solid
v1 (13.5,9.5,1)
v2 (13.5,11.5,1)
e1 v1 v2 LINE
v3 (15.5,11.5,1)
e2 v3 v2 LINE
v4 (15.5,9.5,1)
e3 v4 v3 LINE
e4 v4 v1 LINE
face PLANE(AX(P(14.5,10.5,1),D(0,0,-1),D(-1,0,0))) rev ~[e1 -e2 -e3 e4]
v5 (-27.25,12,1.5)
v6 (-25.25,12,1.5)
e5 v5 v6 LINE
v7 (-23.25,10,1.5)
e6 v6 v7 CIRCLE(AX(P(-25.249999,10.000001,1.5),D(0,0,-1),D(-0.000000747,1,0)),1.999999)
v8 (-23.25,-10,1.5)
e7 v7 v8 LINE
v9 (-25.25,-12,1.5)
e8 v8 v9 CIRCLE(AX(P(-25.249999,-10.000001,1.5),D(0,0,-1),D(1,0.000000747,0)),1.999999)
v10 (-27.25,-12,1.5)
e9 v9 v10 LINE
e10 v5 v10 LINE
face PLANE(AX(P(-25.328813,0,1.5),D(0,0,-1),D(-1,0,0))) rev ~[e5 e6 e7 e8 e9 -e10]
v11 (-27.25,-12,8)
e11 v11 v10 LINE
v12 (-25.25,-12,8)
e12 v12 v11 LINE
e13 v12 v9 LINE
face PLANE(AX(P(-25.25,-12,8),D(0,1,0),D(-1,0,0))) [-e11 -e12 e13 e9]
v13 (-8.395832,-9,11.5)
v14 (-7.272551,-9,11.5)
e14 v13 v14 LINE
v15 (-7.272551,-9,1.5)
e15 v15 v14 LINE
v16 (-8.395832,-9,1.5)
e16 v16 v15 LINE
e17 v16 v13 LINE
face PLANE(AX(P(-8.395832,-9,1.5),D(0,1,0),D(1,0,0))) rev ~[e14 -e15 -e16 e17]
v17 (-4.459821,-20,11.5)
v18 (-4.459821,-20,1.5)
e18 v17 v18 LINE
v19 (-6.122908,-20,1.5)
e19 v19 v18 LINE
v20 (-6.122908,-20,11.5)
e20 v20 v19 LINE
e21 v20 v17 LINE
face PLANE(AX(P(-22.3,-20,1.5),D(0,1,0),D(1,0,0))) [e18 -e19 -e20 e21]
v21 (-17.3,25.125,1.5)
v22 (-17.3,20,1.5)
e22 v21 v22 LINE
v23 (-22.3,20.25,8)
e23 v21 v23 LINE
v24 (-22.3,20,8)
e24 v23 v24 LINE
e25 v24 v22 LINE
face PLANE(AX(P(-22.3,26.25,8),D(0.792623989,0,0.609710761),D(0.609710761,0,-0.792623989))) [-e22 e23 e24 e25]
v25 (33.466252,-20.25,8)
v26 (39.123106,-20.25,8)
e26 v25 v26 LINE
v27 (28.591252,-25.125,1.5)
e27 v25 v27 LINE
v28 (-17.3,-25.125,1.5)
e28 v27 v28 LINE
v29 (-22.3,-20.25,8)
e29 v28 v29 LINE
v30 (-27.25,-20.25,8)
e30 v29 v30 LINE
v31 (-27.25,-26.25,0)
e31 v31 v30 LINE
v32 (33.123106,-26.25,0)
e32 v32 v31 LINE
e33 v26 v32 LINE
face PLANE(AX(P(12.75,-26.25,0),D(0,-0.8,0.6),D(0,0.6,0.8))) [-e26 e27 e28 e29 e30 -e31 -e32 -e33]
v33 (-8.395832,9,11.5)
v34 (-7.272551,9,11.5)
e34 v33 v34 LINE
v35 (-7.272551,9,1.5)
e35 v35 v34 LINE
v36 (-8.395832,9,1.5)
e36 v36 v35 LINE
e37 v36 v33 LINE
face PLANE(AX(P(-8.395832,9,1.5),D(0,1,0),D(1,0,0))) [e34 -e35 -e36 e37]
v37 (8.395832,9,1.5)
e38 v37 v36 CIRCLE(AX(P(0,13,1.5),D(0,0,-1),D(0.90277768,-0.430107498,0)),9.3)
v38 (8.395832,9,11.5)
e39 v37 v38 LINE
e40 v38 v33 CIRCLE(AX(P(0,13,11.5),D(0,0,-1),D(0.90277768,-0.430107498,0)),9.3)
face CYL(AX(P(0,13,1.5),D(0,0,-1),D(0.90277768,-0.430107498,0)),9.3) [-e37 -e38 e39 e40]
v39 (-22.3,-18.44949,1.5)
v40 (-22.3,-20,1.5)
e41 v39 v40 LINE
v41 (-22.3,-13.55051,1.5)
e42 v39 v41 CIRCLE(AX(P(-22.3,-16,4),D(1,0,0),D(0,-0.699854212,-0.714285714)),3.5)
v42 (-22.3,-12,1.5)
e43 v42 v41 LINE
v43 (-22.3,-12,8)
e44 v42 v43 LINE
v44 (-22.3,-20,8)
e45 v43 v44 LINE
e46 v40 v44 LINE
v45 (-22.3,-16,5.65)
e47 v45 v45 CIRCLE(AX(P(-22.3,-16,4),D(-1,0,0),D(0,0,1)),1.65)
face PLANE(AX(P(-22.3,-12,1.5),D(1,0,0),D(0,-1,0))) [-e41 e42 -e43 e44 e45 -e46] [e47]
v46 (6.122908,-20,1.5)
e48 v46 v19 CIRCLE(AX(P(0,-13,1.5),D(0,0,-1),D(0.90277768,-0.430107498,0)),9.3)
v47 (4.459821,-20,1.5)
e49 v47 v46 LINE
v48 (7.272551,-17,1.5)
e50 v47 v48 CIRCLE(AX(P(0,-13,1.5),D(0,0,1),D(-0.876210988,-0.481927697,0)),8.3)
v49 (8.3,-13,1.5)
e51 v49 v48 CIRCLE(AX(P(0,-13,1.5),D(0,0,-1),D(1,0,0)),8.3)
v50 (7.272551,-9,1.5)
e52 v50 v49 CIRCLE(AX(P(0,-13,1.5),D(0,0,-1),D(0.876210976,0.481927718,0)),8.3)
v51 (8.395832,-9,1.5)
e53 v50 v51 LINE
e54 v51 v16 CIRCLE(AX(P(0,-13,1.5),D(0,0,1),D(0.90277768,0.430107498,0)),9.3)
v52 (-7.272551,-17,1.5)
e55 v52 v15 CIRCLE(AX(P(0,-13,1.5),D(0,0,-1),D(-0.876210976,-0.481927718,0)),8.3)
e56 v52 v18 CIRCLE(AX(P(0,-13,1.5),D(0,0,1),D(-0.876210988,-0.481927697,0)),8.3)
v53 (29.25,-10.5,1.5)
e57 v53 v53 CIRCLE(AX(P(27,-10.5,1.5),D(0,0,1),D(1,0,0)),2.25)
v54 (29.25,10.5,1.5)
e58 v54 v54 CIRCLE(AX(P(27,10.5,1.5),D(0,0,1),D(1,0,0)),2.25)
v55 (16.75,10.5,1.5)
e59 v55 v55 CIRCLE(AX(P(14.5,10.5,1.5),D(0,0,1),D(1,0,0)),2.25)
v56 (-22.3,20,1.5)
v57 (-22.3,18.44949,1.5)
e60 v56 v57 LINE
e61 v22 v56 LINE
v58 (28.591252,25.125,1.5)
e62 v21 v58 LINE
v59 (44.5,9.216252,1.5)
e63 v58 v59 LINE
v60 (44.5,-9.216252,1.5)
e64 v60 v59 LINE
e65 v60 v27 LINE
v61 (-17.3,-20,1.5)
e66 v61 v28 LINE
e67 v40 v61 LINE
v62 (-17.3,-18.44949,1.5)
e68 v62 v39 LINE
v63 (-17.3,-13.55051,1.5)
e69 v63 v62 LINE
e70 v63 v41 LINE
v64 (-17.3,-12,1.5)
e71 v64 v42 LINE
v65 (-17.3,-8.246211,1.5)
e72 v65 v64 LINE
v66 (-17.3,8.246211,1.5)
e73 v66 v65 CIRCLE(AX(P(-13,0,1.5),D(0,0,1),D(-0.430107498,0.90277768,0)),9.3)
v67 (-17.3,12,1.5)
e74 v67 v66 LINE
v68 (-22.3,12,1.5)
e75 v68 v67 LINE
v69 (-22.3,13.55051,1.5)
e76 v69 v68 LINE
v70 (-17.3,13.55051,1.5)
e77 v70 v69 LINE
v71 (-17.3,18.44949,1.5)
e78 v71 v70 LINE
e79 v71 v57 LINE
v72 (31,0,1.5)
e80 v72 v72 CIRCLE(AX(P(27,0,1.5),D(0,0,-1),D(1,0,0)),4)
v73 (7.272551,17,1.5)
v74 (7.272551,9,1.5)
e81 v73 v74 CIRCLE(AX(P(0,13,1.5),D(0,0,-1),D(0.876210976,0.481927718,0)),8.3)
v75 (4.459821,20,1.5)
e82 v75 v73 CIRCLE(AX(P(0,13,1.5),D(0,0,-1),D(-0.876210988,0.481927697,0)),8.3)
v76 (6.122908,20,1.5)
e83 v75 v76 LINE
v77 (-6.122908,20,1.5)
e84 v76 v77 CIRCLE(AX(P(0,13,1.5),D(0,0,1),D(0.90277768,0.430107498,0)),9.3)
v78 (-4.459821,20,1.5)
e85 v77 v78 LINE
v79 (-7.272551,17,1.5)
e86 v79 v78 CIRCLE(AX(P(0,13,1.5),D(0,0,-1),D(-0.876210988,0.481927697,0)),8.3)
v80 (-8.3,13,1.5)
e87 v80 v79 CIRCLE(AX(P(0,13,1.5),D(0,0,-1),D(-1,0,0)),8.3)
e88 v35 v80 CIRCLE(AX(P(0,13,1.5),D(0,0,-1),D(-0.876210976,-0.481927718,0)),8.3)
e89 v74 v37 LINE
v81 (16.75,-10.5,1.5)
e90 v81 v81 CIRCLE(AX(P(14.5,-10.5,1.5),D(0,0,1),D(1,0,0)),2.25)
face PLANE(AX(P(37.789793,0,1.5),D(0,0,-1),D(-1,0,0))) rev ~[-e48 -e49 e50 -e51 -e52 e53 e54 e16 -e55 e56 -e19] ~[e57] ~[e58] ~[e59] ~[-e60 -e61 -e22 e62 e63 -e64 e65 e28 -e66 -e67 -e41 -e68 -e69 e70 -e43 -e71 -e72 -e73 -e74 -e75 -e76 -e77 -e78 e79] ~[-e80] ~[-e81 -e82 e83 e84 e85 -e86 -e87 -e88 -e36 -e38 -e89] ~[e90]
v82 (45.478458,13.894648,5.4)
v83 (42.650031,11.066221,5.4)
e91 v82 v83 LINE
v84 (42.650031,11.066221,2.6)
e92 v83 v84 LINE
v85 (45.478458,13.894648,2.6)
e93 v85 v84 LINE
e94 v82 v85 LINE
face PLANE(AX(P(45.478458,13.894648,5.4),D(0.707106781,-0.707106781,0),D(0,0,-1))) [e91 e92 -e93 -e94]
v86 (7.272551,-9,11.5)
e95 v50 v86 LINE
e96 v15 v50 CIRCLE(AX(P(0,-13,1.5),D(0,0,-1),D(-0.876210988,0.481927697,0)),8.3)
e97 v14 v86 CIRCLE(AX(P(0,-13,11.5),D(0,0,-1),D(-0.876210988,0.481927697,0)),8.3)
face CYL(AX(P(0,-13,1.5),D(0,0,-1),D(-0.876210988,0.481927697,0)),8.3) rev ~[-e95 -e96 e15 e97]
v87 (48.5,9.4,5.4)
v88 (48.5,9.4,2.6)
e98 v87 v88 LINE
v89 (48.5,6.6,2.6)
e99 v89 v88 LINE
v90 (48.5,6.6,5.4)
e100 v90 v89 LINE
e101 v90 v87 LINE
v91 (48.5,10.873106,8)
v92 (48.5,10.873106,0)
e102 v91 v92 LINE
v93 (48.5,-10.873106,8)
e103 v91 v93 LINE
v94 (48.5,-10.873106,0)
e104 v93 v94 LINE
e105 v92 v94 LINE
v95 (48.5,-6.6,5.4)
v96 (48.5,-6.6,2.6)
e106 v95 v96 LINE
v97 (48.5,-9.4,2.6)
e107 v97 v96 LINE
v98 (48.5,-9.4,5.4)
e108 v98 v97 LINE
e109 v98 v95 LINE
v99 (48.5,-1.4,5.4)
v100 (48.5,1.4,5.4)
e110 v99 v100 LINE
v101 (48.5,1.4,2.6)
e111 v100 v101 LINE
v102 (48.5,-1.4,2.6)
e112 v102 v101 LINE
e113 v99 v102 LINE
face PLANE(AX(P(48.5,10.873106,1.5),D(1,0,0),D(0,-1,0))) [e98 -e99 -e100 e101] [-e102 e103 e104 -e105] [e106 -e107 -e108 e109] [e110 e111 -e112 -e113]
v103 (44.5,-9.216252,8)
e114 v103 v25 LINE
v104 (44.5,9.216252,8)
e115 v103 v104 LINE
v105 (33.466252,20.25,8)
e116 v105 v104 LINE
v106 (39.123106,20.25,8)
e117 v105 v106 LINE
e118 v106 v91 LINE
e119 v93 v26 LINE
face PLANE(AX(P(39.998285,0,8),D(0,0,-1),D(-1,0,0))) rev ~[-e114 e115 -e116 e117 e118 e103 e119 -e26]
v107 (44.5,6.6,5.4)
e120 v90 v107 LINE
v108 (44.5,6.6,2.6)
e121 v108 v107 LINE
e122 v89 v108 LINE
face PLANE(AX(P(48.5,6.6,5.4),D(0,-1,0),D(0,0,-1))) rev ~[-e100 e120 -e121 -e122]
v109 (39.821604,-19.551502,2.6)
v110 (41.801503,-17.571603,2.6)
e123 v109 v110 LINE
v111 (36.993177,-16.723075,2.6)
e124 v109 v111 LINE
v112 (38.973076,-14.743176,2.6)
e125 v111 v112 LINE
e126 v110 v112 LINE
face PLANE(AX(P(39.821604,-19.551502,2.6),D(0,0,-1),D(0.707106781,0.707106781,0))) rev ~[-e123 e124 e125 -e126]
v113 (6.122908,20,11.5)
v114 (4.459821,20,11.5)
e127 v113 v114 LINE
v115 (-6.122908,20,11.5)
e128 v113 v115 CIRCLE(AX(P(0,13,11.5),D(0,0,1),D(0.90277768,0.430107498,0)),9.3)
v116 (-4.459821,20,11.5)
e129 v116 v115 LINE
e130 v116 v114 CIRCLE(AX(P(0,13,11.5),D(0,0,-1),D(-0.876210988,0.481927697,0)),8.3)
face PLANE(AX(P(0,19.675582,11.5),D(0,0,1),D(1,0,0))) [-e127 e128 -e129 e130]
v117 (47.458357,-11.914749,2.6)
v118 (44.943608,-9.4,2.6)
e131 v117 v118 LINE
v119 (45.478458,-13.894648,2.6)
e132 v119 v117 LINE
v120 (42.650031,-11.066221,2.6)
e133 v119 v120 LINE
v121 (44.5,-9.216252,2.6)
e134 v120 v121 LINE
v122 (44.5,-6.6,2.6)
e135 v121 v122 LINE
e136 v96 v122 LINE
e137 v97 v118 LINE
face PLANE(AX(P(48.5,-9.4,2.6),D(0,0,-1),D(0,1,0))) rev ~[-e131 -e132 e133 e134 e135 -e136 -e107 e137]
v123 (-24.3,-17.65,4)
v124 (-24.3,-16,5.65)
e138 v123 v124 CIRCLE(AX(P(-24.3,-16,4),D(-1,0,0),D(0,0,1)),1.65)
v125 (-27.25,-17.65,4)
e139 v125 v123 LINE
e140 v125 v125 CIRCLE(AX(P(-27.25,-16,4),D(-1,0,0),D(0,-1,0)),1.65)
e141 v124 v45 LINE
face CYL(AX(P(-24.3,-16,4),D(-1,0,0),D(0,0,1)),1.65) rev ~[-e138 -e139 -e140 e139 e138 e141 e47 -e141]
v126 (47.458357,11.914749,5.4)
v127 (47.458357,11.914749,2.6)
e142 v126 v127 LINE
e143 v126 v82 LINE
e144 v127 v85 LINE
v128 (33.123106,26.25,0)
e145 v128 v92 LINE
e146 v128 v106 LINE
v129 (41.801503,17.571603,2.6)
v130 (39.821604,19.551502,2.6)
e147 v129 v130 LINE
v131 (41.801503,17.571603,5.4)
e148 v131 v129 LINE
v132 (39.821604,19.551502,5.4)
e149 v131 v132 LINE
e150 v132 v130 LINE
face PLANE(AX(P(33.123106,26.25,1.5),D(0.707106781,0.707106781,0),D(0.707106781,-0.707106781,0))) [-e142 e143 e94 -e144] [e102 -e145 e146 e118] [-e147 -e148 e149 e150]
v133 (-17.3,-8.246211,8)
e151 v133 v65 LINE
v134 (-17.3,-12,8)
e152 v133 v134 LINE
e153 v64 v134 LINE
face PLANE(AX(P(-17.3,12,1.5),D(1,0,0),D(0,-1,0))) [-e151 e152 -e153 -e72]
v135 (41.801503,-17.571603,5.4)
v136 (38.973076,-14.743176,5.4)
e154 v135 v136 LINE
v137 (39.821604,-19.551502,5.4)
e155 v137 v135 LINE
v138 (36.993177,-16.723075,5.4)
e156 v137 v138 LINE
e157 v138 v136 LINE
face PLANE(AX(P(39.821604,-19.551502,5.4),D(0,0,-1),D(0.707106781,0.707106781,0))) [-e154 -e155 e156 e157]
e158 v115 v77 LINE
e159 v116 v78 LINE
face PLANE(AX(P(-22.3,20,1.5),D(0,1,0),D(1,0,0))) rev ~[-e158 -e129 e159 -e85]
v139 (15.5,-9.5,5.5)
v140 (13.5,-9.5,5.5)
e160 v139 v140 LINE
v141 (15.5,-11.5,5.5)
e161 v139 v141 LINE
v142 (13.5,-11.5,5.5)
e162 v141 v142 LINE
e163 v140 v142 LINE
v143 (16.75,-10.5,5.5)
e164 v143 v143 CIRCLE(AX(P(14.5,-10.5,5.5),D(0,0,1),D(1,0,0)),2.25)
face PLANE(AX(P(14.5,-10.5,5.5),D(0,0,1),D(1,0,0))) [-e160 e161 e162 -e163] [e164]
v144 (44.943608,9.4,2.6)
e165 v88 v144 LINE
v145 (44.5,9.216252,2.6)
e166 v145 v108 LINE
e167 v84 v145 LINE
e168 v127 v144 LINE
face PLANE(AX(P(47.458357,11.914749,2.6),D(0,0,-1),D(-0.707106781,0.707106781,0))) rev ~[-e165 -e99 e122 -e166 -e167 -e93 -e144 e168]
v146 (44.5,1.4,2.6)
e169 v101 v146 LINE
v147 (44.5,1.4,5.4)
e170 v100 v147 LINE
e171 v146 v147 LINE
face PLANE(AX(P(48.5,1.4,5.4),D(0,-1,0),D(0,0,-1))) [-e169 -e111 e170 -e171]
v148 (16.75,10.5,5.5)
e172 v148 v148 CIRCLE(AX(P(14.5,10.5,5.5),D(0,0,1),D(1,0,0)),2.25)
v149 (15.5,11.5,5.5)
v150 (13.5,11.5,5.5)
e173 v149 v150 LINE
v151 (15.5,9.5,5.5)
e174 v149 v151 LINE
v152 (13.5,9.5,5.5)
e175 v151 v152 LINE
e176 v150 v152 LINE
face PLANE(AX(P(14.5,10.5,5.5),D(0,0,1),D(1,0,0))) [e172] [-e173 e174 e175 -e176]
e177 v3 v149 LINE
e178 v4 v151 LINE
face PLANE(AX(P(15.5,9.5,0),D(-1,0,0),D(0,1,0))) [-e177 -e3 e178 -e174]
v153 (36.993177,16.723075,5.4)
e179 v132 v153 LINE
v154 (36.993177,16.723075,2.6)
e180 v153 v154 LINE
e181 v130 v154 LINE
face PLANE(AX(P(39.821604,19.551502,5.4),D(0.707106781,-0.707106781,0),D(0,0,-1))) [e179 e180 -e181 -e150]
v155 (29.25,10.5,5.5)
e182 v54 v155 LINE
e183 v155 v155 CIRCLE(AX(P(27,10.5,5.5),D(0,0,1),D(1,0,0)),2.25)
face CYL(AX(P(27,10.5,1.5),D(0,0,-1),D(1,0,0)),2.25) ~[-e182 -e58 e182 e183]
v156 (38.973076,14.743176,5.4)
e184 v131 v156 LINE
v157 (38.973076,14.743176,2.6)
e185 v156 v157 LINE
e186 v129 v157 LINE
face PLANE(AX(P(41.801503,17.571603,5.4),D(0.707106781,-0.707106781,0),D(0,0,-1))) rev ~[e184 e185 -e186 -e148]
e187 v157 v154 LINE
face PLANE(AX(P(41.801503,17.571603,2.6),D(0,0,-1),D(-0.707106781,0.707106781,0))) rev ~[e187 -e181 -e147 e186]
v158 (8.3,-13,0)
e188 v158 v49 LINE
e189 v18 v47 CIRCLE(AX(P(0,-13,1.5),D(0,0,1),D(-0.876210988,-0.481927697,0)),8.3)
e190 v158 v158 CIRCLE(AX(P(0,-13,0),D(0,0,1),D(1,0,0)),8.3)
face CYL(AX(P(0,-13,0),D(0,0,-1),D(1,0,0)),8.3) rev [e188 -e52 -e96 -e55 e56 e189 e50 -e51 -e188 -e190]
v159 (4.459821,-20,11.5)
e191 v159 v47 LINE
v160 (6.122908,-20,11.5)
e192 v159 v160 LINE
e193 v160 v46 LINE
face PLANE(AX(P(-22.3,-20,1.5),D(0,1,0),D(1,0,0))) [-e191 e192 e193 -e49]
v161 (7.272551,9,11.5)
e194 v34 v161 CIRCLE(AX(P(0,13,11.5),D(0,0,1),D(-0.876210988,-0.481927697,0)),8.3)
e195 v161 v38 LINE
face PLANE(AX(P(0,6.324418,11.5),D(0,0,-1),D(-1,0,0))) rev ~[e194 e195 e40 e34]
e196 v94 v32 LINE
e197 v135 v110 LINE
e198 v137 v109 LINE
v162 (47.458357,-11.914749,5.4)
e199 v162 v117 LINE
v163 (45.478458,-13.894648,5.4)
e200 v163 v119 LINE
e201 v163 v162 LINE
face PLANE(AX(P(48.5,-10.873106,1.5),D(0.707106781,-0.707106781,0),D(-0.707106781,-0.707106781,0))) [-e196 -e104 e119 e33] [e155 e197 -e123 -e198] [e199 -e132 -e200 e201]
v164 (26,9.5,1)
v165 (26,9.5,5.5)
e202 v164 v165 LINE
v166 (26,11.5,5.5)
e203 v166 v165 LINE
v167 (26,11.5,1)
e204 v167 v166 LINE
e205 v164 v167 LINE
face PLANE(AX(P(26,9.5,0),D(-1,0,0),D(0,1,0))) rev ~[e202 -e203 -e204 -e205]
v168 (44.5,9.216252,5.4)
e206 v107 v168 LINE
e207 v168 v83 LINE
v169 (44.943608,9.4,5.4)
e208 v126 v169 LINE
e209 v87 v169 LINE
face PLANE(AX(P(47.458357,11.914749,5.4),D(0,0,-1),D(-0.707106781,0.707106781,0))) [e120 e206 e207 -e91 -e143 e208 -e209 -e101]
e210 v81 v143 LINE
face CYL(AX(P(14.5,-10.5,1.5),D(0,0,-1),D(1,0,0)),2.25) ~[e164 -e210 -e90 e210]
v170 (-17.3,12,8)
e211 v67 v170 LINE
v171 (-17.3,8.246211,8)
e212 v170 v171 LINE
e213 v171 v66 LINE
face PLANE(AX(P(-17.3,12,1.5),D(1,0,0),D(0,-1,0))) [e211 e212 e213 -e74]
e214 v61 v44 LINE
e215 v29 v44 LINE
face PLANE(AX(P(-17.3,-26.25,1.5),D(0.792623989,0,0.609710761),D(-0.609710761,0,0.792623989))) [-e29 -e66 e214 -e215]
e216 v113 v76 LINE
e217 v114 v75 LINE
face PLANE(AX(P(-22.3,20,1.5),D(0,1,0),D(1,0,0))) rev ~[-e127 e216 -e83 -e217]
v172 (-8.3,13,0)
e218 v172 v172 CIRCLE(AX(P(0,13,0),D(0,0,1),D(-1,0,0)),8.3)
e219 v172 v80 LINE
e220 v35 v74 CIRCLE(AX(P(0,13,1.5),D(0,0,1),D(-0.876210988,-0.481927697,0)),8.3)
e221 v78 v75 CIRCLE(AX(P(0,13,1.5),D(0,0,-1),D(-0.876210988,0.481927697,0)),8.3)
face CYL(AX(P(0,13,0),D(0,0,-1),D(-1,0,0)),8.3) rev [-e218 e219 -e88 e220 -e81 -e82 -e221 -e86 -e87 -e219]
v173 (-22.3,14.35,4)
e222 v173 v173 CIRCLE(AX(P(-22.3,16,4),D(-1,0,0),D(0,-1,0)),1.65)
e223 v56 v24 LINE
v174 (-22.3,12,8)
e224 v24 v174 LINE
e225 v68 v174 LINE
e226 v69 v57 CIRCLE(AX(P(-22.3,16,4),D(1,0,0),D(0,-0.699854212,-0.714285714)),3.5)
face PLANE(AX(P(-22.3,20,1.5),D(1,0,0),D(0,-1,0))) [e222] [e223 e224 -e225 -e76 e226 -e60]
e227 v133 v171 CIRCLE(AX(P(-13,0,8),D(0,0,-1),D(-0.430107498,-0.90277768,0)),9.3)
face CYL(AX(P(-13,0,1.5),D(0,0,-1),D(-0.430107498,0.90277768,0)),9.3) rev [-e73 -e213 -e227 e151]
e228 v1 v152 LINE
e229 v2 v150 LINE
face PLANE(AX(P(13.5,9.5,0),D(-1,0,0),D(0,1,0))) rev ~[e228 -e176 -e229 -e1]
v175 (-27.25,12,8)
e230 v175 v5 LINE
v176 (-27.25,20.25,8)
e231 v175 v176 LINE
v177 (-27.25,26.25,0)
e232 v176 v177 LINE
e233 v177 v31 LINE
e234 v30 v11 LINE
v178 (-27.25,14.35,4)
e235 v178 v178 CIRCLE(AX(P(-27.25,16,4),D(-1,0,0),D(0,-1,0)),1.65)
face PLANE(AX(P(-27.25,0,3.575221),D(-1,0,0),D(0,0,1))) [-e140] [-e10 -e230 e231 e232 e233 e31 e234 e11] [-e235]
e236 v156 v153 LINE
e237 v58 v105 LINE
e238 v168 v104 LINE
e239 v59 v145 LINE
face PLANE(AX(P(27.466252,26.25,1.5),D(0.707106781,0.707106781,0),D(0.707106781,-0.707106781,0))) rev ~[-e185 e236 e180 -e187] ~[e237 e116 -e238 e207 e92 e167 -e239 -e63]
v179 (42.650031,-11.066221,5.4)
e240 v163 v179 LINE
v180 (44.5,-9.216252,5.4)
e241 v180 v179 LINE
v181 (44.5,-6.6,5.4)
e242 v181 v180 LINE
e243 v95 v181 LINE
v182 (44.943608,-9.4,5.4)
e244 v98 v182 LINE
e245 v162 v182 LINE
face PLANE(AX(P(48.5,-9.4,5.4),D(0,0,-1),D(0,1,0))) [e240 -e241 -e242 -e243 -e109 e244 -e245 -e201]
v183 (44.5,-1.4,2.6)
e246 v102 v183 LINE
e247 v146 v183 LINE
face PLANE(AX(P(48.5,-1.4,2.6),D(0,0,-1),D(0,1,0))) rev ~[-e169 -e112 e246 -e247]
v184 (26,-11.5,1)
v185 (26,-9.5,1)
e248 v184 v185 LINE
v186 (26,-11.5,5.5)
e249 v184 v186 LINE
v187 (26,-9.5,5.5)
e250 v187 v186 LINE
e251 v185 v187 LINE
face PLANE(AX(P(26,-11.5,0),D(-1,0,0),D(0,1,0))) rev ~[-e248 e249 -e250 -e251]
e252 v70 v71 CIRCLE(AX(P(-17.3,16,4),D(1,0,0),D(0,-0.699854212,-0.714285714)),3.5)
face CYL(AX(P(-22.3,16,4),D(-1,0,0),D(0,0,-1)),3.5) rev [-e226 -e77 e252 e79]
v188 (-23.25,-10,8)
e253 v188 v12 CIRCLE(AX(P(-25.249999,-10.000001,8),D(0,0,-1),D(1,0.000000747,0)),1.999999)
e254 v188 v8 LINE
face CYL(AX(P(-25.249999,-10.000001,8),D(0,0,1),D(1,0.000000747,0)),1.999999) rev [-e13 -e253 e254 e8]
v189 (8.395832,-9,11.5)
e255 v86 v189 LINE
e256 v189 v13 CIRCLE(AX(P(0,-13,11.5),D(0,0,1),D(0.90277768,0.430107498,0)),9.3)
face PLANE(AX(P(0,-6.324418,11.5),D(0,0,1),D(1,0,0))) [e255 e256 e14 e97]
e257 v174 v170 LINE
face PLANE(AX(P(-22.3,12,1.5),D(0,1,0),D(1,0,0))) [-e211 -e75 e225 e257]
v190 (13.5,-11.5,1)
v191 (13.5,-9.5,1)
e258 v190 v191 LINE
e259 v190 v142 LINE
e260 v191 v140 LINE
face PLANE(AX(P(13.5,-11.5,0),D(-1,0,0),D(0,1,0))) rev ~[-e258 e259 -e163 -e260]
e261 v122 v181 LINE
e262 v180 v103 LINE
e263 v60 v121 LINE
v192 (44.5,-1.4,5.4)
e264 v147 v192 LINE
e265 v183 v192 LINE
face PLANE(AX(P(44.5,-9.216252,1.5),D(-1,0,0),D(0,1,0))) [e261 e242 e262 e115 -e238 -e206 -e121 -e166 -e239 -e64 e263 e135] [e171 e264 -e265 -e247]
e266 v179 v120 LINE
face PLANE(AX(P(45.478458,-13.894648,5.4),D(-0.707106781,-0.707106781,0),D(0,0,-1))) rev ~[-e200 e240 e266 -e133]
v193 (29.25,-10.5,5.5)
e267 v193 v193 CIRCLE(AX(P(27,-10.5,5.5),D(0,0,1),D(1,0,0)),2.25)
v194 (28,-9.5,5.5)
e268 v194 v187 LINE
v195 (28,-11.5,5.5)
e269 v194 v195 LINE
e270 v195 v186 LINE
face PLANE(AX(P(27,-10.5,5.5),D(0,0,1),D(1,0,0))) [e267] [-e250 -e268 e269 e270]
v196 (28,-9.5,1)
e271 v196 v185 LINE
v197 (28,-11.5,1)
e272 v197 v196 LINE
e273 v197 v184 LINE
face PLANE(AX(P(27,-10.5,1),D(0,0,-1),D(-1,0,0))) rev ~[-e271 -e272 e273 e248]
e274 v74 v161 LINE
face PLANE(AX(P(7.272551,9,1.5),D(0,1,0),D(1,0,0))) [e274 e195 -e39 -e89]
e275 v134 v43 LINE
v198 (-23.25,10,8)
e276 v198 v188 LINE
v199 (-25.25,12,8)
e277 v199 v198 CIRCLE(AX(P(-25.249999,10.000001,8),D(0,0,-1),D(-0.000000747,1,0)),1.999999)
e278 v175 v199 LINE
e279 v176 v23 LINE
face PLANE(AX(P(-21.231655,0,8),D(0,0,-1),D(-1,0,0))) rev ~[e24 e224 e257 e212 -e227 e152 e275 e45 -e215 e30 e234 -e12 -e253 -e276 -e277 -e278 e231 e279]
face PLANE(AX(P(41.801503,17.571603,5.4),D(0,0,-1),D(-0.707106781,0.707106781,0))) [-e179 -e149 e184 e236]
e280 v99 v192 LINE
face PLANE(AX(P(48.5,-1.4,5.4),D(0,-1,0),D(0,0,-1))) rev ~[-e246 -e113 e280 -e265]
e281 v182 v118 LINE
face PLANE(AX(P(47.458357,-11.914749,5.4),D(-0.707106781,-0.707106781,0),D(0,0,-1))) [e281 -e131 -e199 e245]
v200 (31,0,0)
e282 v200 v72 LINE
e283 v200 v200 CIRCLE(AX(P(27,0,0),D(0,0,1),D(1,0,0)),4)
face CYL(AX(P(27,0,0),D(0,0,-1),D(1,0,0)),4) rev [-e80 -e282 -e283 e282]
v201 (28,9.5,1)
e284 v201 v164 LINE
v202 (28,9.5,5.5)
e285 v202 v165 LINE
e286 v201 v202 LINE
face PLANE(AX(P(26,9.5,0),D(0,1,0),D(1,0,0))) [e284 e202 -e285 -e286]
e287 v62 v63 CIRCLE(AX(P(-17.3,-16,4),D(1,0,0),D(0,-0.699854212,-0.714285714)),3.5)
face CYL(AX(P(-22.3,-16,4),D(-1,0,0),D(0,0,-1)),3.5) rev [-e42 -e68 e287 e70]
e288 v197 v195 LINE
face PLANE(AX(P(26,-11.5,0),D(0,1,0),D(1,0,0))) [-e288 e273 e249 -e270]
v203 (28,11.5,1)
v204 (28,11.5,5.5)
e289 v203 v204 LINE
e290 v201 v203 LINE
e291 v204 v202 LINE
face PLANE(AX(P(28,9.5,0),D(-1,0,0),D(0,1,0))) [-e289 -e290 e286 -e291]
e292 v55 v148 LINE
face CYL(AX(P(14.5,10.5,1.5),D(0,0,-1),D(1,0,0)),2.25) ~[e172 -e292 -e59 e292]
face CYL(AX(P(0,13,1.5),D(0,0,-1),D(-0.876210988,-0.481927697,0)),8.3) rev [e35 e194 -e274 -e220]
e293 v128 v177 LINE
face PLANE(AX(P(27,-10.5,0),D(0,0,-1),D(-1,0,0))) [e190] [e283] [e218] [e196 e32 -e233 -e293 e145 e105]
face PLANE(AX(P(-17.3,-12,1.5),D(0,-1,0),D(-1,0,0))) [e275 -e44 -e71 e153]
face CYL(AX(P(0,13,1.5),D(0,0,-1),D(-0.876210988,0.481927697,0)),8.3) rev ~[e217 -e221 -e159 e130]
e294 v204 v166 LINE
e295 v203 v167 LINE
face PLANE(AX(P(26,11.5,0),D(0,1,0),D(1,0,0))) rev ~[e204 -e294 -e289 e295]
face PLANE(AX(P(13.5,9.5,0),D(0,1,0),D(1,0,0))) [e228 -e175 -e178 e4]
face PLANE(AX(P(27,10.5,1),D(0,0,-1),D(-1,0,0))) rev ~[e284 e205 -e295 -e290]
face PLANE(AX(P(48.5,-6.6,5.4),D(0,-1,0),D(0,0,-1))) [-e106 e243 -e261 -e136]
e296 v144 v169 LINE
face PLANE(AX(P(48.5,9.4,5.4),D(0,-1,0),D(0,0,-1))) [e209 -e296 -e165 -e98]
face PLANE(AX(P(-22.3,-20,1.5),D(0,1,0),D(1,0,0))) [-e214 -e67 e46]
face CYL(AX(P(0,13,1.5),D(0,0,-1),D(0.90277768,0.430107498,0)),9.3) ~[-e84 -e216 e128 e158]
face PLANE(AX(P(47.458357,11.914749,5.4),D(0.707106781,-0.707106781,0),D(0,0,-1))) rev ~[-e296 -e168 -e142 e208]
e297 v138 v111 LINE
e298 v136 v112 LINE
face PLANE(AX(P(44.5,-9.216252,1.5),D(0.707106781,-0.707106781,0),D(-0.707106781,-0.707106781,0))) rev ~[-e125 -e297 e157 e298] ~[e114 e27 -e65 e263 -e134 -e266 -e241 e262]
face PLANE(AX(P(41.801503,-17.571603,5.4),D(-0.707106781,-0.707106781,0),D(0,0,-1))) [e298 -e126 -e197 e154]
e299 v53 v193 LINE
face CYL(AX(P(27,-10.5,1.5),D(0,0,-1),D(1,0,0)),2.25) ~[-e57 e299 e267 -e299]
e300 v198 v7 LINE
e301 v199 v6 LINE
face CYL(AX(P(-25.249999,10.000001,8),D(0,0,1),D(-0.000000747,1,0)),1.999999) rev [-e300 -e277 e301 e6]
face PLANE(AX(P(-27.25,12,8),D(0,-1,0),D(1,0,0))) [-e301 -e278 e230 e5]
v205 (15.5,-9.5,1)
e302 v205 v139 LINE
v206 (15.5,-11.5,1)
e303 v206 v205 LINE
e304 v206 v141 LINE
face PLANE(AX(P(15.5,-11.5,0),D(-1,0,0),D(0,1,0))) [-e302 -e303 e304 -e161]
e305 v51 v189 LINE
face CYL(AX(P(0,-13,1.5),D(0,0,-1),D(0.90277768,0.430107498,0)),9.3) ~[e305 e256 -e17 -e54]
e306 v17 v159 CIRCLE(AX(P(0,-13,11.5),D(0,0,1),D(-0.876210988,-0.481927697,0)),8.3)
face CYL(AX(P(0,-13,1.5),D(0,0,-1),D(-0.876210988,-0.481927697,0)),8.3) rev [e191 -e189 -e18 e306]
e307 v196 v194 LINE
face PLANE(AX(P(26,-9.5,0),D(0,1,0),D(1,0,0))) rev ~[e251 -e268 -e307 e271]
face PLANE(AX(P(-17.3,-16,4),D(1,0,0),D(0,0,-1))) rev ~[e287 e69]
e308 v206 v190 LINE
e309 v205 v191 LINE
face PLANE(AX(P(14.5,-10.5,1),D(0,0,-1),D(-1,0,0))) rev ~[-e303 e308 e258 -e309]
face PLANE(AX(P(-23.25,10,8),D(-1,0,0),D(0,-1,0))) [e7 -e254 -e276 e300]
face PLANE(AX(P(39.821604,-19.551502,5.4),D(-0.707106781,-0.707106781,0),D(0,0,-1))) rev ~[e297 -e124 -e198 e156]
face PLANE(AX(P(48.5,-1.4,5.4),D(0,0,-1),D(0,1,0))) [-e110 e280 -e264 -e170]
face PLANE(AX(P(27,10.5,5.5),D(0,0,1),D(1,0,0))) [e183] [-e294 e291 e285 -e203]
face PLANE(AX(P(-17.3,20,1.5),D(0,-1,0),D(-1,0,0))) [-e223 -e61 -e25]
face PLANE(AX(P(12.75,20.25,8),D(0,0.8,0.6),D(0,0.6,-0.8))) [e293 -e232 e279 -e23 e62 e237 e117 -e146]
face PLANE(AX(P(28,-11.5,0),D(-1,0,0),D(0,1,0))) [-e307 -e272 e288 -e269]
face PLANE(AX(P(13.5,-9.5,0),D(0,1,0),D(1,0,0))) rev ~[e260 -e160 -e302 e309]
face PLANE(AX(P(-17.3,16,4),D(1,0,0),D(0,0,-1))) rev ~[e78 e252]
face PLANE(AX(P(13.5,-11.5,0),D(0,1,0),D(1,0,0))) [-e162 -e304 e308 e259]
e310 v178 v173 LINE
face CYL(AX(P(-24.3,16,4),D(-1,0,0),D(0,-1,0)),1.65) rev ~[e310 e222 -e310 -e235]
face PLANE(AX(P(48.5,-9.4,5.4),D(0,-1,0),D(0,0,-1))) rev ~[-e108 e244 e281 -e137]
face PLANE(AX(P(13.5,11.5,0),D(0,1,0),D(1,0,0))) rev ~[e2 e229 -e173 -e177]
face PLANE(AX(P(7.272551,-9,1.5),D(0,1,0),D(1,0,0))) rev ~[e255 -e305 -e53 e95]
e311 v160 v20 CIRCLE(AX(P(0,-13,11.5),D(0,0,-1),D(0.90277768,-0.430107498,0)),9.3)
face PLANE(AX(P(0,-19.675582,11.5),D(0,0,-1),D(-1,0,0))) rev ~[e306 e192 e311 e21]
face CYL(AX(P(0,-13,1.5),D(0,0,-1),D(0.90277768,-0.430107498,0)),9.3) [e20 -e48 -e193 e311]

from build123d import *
from build123d.topology import SkipClean

# Parameters (mm, degrees)
ESBO_O1_R                 = 8.3
RESSALTO_EXTRUS_O1_DEPTH  = 1.5
RESSALTO_EXTRUS_O2_DEPTH  = 6
ESBO_O3_W                 = 2.8
ESBO_O3_H                 = 2.8
CORTE_EXTRUS_O1_DEPTH     = 37.142081
ESBO_O4_W                 = 2.8
ESBO_O4_H                 = 2.8
CORTE_EXTRUS_O2_DEPTH     = 53.081667
ESBO_O6_W                 = 5
ESBO_O6_H                 = 25
RESSALTO_EXTRUS_O5_DEPTH  = 7.5
ESBO_O7_W                 = 2.8
ESBO_O7_H                 = 2.8
CORTE_EXTRUS_O3_DEPTH     = 60
RESSALTO_EXTRUS_O3_DEPTH  = 10
ESBO_O8_W                 = 60
ESBO_O8_H                 = 52.5
ESBO_O8_R                 = 8.3
RESSALTO_EXTRUS_O6_DEPTH  = 1.5
CORTE_EXTRUS_O4_DEPTH     = 42.098206
RESSALTO_EXTRUS_O7_DEPTH  = 6.5
ESBO_O14_W                = 5.7
ESBO_O14_H                = 52.5
CORTE_EXTRUS_O8_DEPTH     = 4.5
CORTE_EXTRUS_O9_DEPTH     = 41.657871
CORTE_EXTRUS_O13_DEPTH    = 6.25
CORTE_EXTRUS_O14_DEPTH    = 6.25
ESBO_O12_R                = 1.65
CORTE_EXTRUS_O15_DEPTH    = 4.5
CORTE_EXTRUS_O17_DEPTH    = 62.398717
ESBO_O20_R                = 3.5
CORTE_EXTRUS_O18_DEPTH    = 5
RESSALTO_EXTRUS_O8_START  = 2.95
ESBO_O21_R                = 1.65
RESSALTO_EXTRUS_O8_DEPTH  = 2.95
ESBO_O22_W                = 2.8
ESBO_O22_H                = 2.8
RESSALTO_EXTRUS_O9_DEPTH  = 1.25
CORTE_EXTRUS_O19_DEPTH    = 6
ESBO_O24_W                = 8
ESBO_O24_H                = 50.25
RESSALTO_EXTRUS_O10_DEPTH = 6.5
CORTE_EXTRUS_O20_DEPTH    = 62.22257
CORTE_EXTRUS_O21_REACH    = 67.143
ESBO_O26_W                = 2.8
ESBO_O26_H                = 2.8
CORTE_EXTRUS_O22_REACH    = 67.143
CORTE_EXTRUS_O23_DEPTH    = 6.5
CORTE_EXTRUS_O24_DEPTH    = 43.019341
ESBO_O32_R                = 8.3
RESSALTO_EXTRUS_O11_DEPTH = 1.5
ESBO_O29_R                = 8.3
CORTE_EXTRUS_O27_DEPTH    = 42.588761
RESSALTO_EXTRUS_O12_DEPTH = 10
ESBO_O36_W                = 27.015234
ESBO_O36_H                = 55.93915
CORTE_EXTRUS_O28_DEPTH    = 10
RESSALTO_EXTRUS_O13_DEPTH = 1.5
ESBO_O40_R                = 2.25
RESSALTO_EXTRUS_O14_DEPTH = 4
ESBO_O37_R                = 4
ESBO_O37_W                = 2
ESBO_O37_H                = 2
CORTE_EXTRUS_O29_DEPTH    = 57.334381
ESBO_O41_W                = 2
ESBO_O41_H                = 2
RESSALTO_EXTRUS_O15_DEPTH = 1
RESSALTO_EXTRUS_O16_DEPTH = 6.5
ESBO_O44_W                = 2.8
ESBO_O44_H                = 2.8
CORTE_EXTRUS_O30_DEPTH    = 12.5
ESBO_O45_W                = 2.8
ESBO_O45_H                = 2.8
CORTE_EXTRUS_O31_DEPTH    = 5.5
ESBO_O46_W                = 2.8
ESBO_O46_H                = 2.8
CORTE_EXTRUS_O32_DEPTH    = 5.5
CORTE_EXTRUS_O33_START    = -40
CORTE_EXTRUS_O33_DEPTH    = 45.5
ESBO_O49_W                = 32.528758
ESBO_O49_H                = 8
CORTE_EXTRUS_O34_DEPTH    = 15.5


with BuildPart() as part:
    # Esboço1 → Ressalto-extrusão1 (new body)
    with BuildSketch(Plane.XY):
        Polygon((-25, -12.5), (-25, 12.5), (25, 12.5), (25, -12.5), (15, -12.5), (-15, -12.5), align=None)
        with Locations((-13, 0)):
            Circle(ESBO_O1_R, mode=Mode.SUBTRACT)
        with Locations(Location((13, 0, 0), (0, 0, 180))):
            Circle(ESBO_O1_R, mode=Mode.SUBTRACT)
    extrude(amount=RESSALTO_EXTRUS_O1_DEPTH)

    # Esboço2 → Ressalto-extrusão2 (add)
    with BuildSketch(Plane.XY.offset(1.5)):
        Polygon((-20, -12.5), (-25, -12.5), (-25, -2.5), (-22, -2.5), (-22, -9.5), (-15, -9.5), (-15, -12.5), align=None)
        Polygon((22, -2.5), (22, -9.5), (15, -9.5), (15, -12.5), (20, -12.5), (25, -12.5), (25, -2.5), align=None)
        Polygon((20, 12.5), (25, 12.5), (25, 2.5), (22, 2.5), (22, 9.5), (15, 9.5), (15, 12.5), align=None)
        Polygon((-22, 2.5), (-22, 9.5), (-15, 9.5), (-15, 12.5), (-20, 12.5), (-25, 12.5), (-25, 2.5), align=None)
    extrude(amount=RESSALTO_EXTRUS_O2_DEPTH)

    # Esboço3 → Corte-extrusão1 (cut, through all)
    with BuildSketch(Plane.XZ.offset(12.5)):
        with Locations((-20, 3.75)):
            Rectangle(ESBO_O3_W, ESBO_O3_H)
        with Locations((20, 3.75)):
            Rectangle(ESBO_O3_W, ESBO_O3_H)
    extrude(amount=-CORTE_EXTRUS_O1_DEPTH, mode=Mode.SUBTRACT)

    # Esboço4 → Corte-extrusão2 (cut, through all)
    with BuildSketch(Plane.ZY.offset(25)):
        with Locations((3.75, 7.5)):
            Rectangle(ESBO_O4_W, ESBO_O4_H)
        with Locations((3.75, -7.5)):
            Rectangle(ESBO_O4_W, ESBO_O4_H)
    extrude(amount=-CORTE_EXTRUS_O2_DEPTH, mode=Mode.SUBTRACT)

    # Esboço6 → Ressalto-extrusão5 (add)
    with BuildSketch(Plane(origin=(0, 0, 0), x_dir=(-1, 0, 0), z_dir=(0, 0, -1))):
        with Locations((-27.5, 0)):
            Rectangle(ESBO_O6_W, ESBO_O6_H)
        with Locations((27.5, 0)):
            Rectangle(ESBO_O6_W, ESBO_O6_H)
    extrude(amount=-RESSALTO_EXTRUS_O5_DEPTH)

    # Esboço7 → Corte-extrusão3 (cut)
    with BuildSketch(Plane(origin=(30, 0, 0), x_dir=(0, 0, -1), z_dir=(1, 0, 0))):
        with Locations((-3.75, -7.5)):
            Rectangle(ESBO_O7_W, ESBO_O7_H)
        with Locations((-3.75, 7.5)):
            Rectangle(ESBO_O7_W, ESBO_O7_H)
    extrude(amount=-CORTE_EXTRUS_O3_DEPTH, mode=Mode.SUBTRACT)

    # Esboço5 → Ressalto-extrusão3 (add)
    with SkipClean():  # the faces are left unmerged after this step: merging them gives an invalid solid
        with BuildSketch(Plane.XY.offset(1.5)):
            with BuildLine():
                Line((-9, -7.272551), (-9, -8.395832))
                ThreePointArc((-9, -8.395832), (-3.7, 0), (-9, 8.395832))
                Line((-9, 8.395832), (-9, 7.272551))
                ThreePointArc((-9, 7.272551), (-4.7, 0), (-9, -7.272551))
            make_face()
            with BuildLine():
                Line((-17, -7.272551), (-17, -8.395832))
                ThreePointArc((-17, -8.395832), (-22.3, 0), (-17, 8.395832))
                Line((-17, 8.395832), (-17, 7.272551))
                ThreePointArc((-17, 7.272551), (-21.3, 0), (-17, -7.272551))
            make_face()
            with BuildLine():
                Line((9, -7.272551), (9, -8.395832))
                ThreePointArc((9, -8.395832), (3.7, 0), (9, 8.395832))
                Line((9, 8.395832), (9, 7.272551))
                ThreePointArc((9, 7.272551), (4.7, 0), (9, -7.272551))
            make_face()
            with BuildLine():
                Line((17, 8.395832), (17, 7.272551))
                ThreePointArc((17, 7.272551), (21.3, 0), (17, -7.272551))
                Line((17, -7.272551), (17, -8.395832))
                ThreePointArc((17, -8.395832), (22.3, 0), (17, 8.395832))
            make_face()
        extrude(amount=RESSALTO_EXTRUS_O3_DEPTH)

    # Esboço8 → Ressalto-extrusão6 (add)
    with SkipClean():  # the faces are left unmerged after this step: merging them gives an invalid solid
        with BuildSketch(Plane(origin=(0, 0, 0), x_dir=(-1, 0, 0), z_dir=(0, 0, -1))):
            Rectangle(ESBO_O8_W, ESBO_O8_H)
            with Locations(Location((13, 0, 0), (0, 0, 298.81138))):
                Circle(ESBO_O8_R, mode=Mode.SUBTRACT)
            with Locations((-13, 0)):
                Circle(ESBO_O8_R, mode=Mode.SUBTRACT)
        extrude(amount=-RESSALTO_EXTRUS_O6_DEPTH)

    # Esboço9 → Corte-extrusão4 (cut, through all)
    with SkipClean():  # the faces are left unmerged after this step: merging them gives an invalid solid
        with BuildSketch(Plane.XY.offset(1.5)):
            Polygon((-15, -12.5), (-15, -9.5), (-22, -9.5), (-22, -2.5), (-25, -2.5), (-25, 2.5), (-22, 2.5), (-22, 9.5), (-15, 9.5), (-15, 12.5), (-30, 12.5), (-30, -12.5), align=None)
        extrude(amount=CORTE_EXTRUS_O4_DEPTH, mode=Mode.SUBTRACT)

    # Esboço10 → Ressalto-extrusão7 (add)
    with SkipClean():  # the faces are left unmerged after this step: merging them gives an invalid solid
        with BuildSketch(Plane.XY.offset(1.5)):
            Polygon((-24.3, -26.25), (-24.3, 26.25), (-22.3, 26.25), (-17.3, 26.25), (-17.3, 20), (-22.3, 20), (-22.3, 12), (-17.3, 12), (-17.3, -12), (-22.3, -12), (-22.3, -20), (-17.3, -20), (-17.3, -26.25), (-22.3, -26.25), align=None)
        extrude(amount=RESSALTO_EXTRUS_O7_DEPTH)

    # Esboço14 → Corte-extrusão8 (cut)
    with SkipClean():  # the faces are left unmerged after this step: merging them gives an invalid solid
        with BuildSketch(Plane.XY.offset(1.5)):
            with Locations((-27.15, 0)):
                Rectangle(ESBO_O14_W, ESBO_O14_H)
        extrude(amount=-CORTE_EXTRUS_O8_DEPTH, mode=Mode.SUBTRACT)

    # Esboço15 → Corte-extrusão9 (cut, through all)
    with SkipClean():  # the faces are left unmerged after this step: merging them gives an invalid solid
        with BuildSketch(Plane.XY.offset(8)):
            with BuildLine():
                Line((-17.3, -7.099296), (-17.3, 7.099296))
                ThreePointArc((-17.3, 7.099296), (-21.3, 0), (-17.3, -7.099296))
            make_face()
        extrude(amount=-CORTE_EXTRUS_O9_DEPTH, mode=Mode.SUBTRACT)

    # Esboço11 → Corte-extrusão13 (cut)
    with SkipClean():  # the faces are left unmerged after this step: merging them gives an invalid solid
        with BuildSketch(Plane.XZ.offset(26.25)):
            Polygon((-22.3, 8), (-17.3, 8), (-17.3, 1.5), align=None)
        extrude(amount=-CORTE_EXTRUS_O13_DEPTH, mode=Mode.SUBTRACT)

    # Esboço17 → Corte-extrusão14 (cut)
    with SkipClean():  # the faces are left unmerged after this step: merging them gives an invalid solid
        with BuildSketch(Plane(origin=(0, 26.25, 0), x_dir=(1, 0, 0), z_dir=(0, 1, 0))):
            Polygon((-17.3, -1.5), (-17.3, -8), (-22.3, -8), align=None)
        extrude(amount=-CORTE_EXTRUS_O14_DEPTH, mode=Mode.SUBTRACT)

    # Esboço12 → Corte-extrusão15 (cut)
    with SkipClean():  # the faces are left unmerged after this step: merging them gives an invalid solid
        with BuildSketch(Plane.ZY.offset(24.3)):
            with Locations(Location((4, 16, 0), (0, 0, 270))):
                Circle(ESBO_O12_R)
            with Locations((4, -16)):
                Circle(ESBO_O12_R)
        extrude(amount=-CORTE_EXTRUS_O15_DEPTH, mode=Mode.SUBTRACT)

    # Esboço19 → Corte-extrusão17 (cut, through all)
    with SkipClean():  # the faces are left unmerged after this step: merging them gives an invalid solid
        with BuildSketch(Plane.ZY.offset(24.3)):
            Polygon((0, 26.25), (8, 26.25), (8, 20.25), align=None)
            Polygon((8, -20.25), (0, -26.25), (8, -26.25), align=None)
        extrude(amount=-CORTE_EXTRUS_O17_DEPTH, mode=Mode.SUBTRACT)

    # Esboço20 → Corte-extrusão18 (cut)
    with SkipClean():  # the faces are left unmerged after this step: merging them gives an invalid solid
        with BuildSketch(Plane(origin=(-22.3, 0, 0), x_dir=(0, 0, -1), z_dir=(1, 0, 0))):
            with Locations((-4, -16)):
                Circle(ESBO_O20_R)
            with Locations((-4, 16)):
                Circle(ESBO_O20_R)
        extrude(amount=CORTE_EXTRUS_O18_DEPTH, mode=Mode.SUBTRACT)

    # Esboço21 → Ressalto-extrusão8 (add)
    with SkipClean():  # the faces are left unmerged after this step: merging them gives an invalid solid
        with BuildSketch(Plane.ZY.offset(24.3).offset(RESSALTO_EXTRUS_O8_START)):
            Polygon((0, 26.25), (0, -26.25), (8, -20.25), (8, 20.25), align=None)
            with Locations(Location((4, -16, 0), (0, 0, 270))):
                Circle(ESBO_O21_R, mode=Mode.SUBTRACT)
            with Locations(Location((4, 16, 0), (0, 0, 270))):
                Circle(ESBO_O21_R, mode=Mode.SUBTRACT)
        extrude(amount=-RESSALTO_EXTRUS_O8_DEPTH)

    # Esboço22 → Ressalto-extrusão9 (add)
    with SkipClean():  # the faces are left unmerged after this step: merging them gives an invalid solid
        with BuildSketch(Plane(origin=(30, 0, 0), x_dir=(0, 0, -1), z_dir=(1, 0, 0))):
            Polygon((-1.5, -25.125), (0, -26.25), (0, 26.25), (-1.5, 25.125), (-1.5, 12.5), (-7.5, 12.5), (-7.5, -12.5), (-1.5, -12.5), align=None)
            with Locations((-3.75, -7.5)):
                Rectangle(ESBO_O22_W, ESBO_O22_H, mode=Mode.SUBTRACT)
            with Locations((-3.75, 7.5)):
                Rectangle(ESBO_O22_W, ESBO_O22_H, mode=Mode.SUBTRACT)
        extrude(amount=RESSALTO_EXTRUS_O9_DEPTH)

    # Esboço23 → Corte-extrusão19 (cut)
    with SkipClean():  # the faces are left unmerged after this step: merging them gives an invalid solid
        with BuildSketch(Plane.XY.offset(7.5)):
            Polygon((25, -2.5), (22, -2.5), (22, -9.5), (15, -9.5), (15, -12.5), (31.25, -12.5), (31.25, 12.5), (15, 12.5), (15, 9.5), (22, 9.5), (22, 2.5), (25, 2.5), align=None)
        extrude(amount=-CORTE_EXTRUS_O19_DEPTH, mode=Mode.SUBTRACT)

    # Esboço24 → Ressalto-extrusão10 (add)
    with SkipClean():  # the faces are left unmerged after this step: merging them gives an invalid solid
        with BuildSketch(Plane.XY.offset(1.5)):
            with Locations((27.25, 0)):
                Rectangle(ESBO_O24_W, ESBO_O24_H)
        extrude(amount=RESSALTO_EXTRUS_O10_DEPTH)

    # Esboço25 → Corte-extrusão20 (cut, through all)
    with SkipClean():  # the faces are left unmerged after this step: merging them gives an invalid solid
        with BuildSketch(Plane(origin=(0, 25.125, 0), x_dir=(1, 0, 0), z_dir=(0, 1, 0))):
            Polygon((23.25, -6.5), (23.25, -8), (24.75, -8), align=None)
        extrude(amount=-CORTE_EXTRUS_O20_DEPTH, mode=Mode.SUBTRACT)

    # Esboço26 → Corte-extrusão21 (cut, up to next)
    with BuildSketch(Plane(origin=(31.25, 0, 0), x_dir=(0, 0, -1), z_dir=(1, 0, 0)), mode=Mode.PRIVATE) as corte_extrus_o21_sk1:
        with Locations((-4, 0)):
            Rectangle(ESBO_O26_W, ESBO_O26_H)
    corte_extrus_o21_tool1 = extrude(corte_extrus_o21_sk1.sketch, amount=-CORTE_EXTRUS_O21_REACH, mode=Mode.PRIVATE) & part.part
    # Esboço26 → Corte-extrusão21 (cut, up to next)
    with BuildSketch(Plane(origin=(31.25, 0, 0), x_dir=(0, 0, -1), z_dir=(1, 0, 0)), mode=Mode.PRIVATE) as corte_extrus_o21_sk2:
        with Locations((-4, -8)):
            Rectangle(ESBO_O26_W, ESBO_O26_H)
    corte_extrus_o21_tool2 = extrude(corte_extrus_o21_sk2.sketch, amount=-CORTE_EXTRUS_O21_REACH, mode=Mode.PRIVATE) & part.part
    # Esboço26 → Corte-extrusão21 (cut, up to next)
    with BuildSketch(Plane(origin=(31.25, 0, 0), x_dir=(0, 0, -1), z_dir=(1, 0, 0)), mode=Mode.PRIVATE) as corte_extrus_o21_sk3:
        with Locations((-4, 8)):
            Rectangle(ESBO_O26_W, ESBO_O26_H)
    corte_extrus_o21_tool3 = extrude(corte_extrus_o21_sk3.sketch, amount=-CORTE_EXTRUS_O21_REACH, mode=Mode.PRIVATE) & part.part
    add(corte_extrus_o21_tool1.solids().sort_by_distance((31.25, 0, 4))[0], mode=Mode.SUBTRACT)
    add(corte_extrus_o21_tool2.solids().sort_by_distance((31.25, -8, 4))[0], mode=Mode.SUBTRACT)
    add(corte_extrus_o21_tool3.solids().sort_by_distance((31.25, 8, 4))[0], mode=Mode.SUBTRACT)

    # Esboço27 → Corte-extrusão22 (cut, up to next)
    with BuildSketch(Plane(origin=(31.25, 0, 0), x_dir=(0, 0, -1), z_dir=(1, 0, 0)), mode=Mode.PRIVATE) as corte_extrus_o22_sk1:
        with BuildLine():
            Line((-4, 19), (-8, 19))
            Line((-8, 19), (-8, 13))
            Line((-8, 13), (-4, 13))
            ThreePointArc((-4, 13), (-2.581363, 13.356618), (-1.5, 14.341688))
            Line((-1.5, 14.341688), (-1.5, 17.658312))
            ThreePointArc((-1.5, 17.658312), (-2.581363, 18.643382), (-4, 19))
        make_face()
    corte_extrus_o22_tool1 = extrude(corte_extrus_o22_sk1.sketch, amount=-CORTE_EXTRUS_O22_REACH, mode=Mode.PRIVATE) & part.part
    # Esboço27 → Corte-extrusão22 (cut, up to next)
    with BuildSketch(Plane(origin=(31.25, 0, 0), x_dir=(0, 0, -1), z_dir=(1, 0, 0)), mode=Mode.PRIVATE) as corte_extrus_o22_sk2:
        Polygon((-8, -20.25), (-8, -25.125), (-1.5, -25.125), align=None)
    corte_extrus_o22_tool2 = extrude(corte_extrus_o22_sk2.sketch, amount=-CORTE_EXTRUS_O22_REACH, mode=Mode.PRIVATE) & part.part
    # Esboço27 → Corte-extrusão22 (cut, up to next)
    with BuildSketch(Plane(origin=(31.25, 0, 0), x_dir=(0, 0, -1), z_dir=(1, 0, 0)), mode=Mode.PRIVATE) as corte_extrus_o22_sk3:
        Polygon((-8, 25.125), (-8, 20.25), (-1.5, 25.125), align=None)
    corte_extrus_o22_tool3 = extrude(corte_extrus_o22_sk3.sketch, amount=-CORTE_EXTRUS_O22_REACH, mode=Mode.PRIVATE) & part.part
    # Esboço27 → Corte-extrusão22 (cut, up to next)
    with BuildSketch(Plane(origin=(31.25, 0, 0), x_dir=(0, 0, -1), z_dir=(1, 0, 0)), mode=Mode.PRIVATE) as corte_extrus_o22_sk4:
        with BuildLine():
            Line((-4, -13), (-8, -13))
            Line((-8, -13), (-8, -19))
            Line((-8, -19), (-4, -19))
            ThreePointArc((-4, -19), (-2.581363, -18.643382), (-1.5, -17.658312))
            Line((-1.5, -17.658312), (-1.5, -14.341688))
            ThreePointArc((-1.5, -14.341688), (-2.581363, -13.356618), (-4, -13))
        make_face()
    corte_extrus_o22_tool4 = extrude(corte_extrus_o22_sk4.sketch, amount=-CORTE_EXTRUS_O22_REACH, mode=Mode.PRIVATE) & part.part
    add(corte_extrus_o22_tool1.solids().sort_by_distance((31.25, 16, 4.892695))[0], mode=Mode.SUBTRACT)
    add(corte_extrus_o22_tool2.solids().sort_by_distance((31.25, -23.5, 5.833333))[0], mode=Mode.SUBTRACT)
    add(corte_extrus_o22_tool3.solids().sort_by_distance((31.25, 23.5, 5.833333))[0], mode=Mode.SUBTRACT)
    add(corte_extrus_o22_tool4.solids().sort_by_distance((31.25, -16, 4.892695))[0], mode=Mode.SUBTRACT)

    # Esboço28 → Corte-extrusão23 (cut)
    with SkipClean():  # the faces are left unmerged after this step: merging them gives an invalid solid
        with BuildSketch(Plane.XY.offset(8)):
            with BuildLine():
                Line((-27.25, 0), (-27.25, 8))
                Line((-27.25, 8), (-27.25, 12))
                Line((-27.25, 12), (-25.25, 12))
                ThreePointArc((-25.25, 12), (-23.835786, 11.414214), (-23.25, 10))
                Line((-23.25, 10), (-23.25, -10))
                ThreePointArc((-23.25, -10), (-23.835786, -11.414214), (-25.25, -12))
                Line((-25.25, -12), (-27.25, -12))
                Line((-27.25, -12), (-27.25, 0))
            make_face()
        extrude(amount=-CORTE_EXTRUS_O23_DEPTH, mode=Mode.SUBTRACT)

    # Esboço31 → Corte-extrusão24 (cut, through all)
    with BuildSketch(Plane.XY.offset(1.5)):
        with BuildLine():
            Line((-9, -7.272551), (-9, -8.395832))
            ThreePointArc((-9, -8.395832), (-3.7, 0), (-9, 8.395832))
            Line((-9, 8.395832), (-9, 7.272551))
            ThreePointArc((-9, 7.272551), (-4.7, 0), (-9, -7.272551))
        make_face()
        with BuildLine():
            Line((-17, 7.272551), (-17, 8.395832))
            ThreePointArc((-17, 8.395832), (-22.3, 0), (-17, -8.395832))
            Line((-17, -8.395832), (-17, -7.272551))
            ThreePointArc((-17, -7.272551), (-21.3, 0), (-17, 7.272551))
        make_face()
        with BuildLine():
            Line((17, 8.395832), (17, 7.272551))
            ThreePointArc((17, 7.272551), (21.3, 0), (17, -7.272551))
            Line((17, -7.272551), (17, -8.395832))
            ThreePointArc((17, -8.395832), (22.3, 0), (17, 8.395832))
        make_face()
        with BuildLine():
            Line((9, -8.395832), (9, -7.272551))
            ThreePointArc((9, -7.272551), (4.7, 0), (9, 7.272551))
            Line((9, 7.272551), (9, 8.395832))
            ThreePointArc((9, 8.395832), (3.7, 0), (9, -8.395832))
        make_face()
    extrude(amount=CORTE_EXTRUS_O24_DEPTH, mode=Mode.SUBTRACT)

    # Esboço32 → Ressalto-extrusão11 (add)
    with BuildSketch(Plane(origin=(0, 0, 0), x_dir=(-1, 0, 0), z_dir=(0, 0, -1))):
        with Locations((-13, 0)):
            Circle(ESBO_O32_R)
        with Locations((13, 0)):
            Circle(ESBO_O32_R)
    extrude(amount=-RESSALTO_EXTRUS_O11_DEPTH)

    # Esboço29 → Corte-extrusão27 (cut, through all)
    with BuildSketch(Plane.XY):
        with Locations((0, -13)):
            Circle(ESBO_O29_R)
        with Locations(Location((0, 13, 0), (0, 0, 180))):
            Circle(ESBO_O29_R)
    extrude(amount=CORTE_EXTRUS_O27_DEPTH, mode=Mode.SUBTRACT)

    # Esboço30 → Ressalto-extrusão12 (add)
    with BuildSketch(Plane.XY.offset(1.5)):
        with BuildLine():
            Line((7.272551, -9), (8.395832, -9))
            ThreePointArc((8.395832, -9), (0, -3.7), (-8.395832, -9))
            Line((-8.395832, -9), (-7.272551, -9))
            ThreePointArc((-7.272551, -9), (0, -4.7), (7.272551, -9))
        make_face()
        with BuildLine():
            Line((7.272551, -17), (8.395832, -17))
            ThreePointArc((8.395832, -17), (0, -22.3), (-8.395832, -17))
            Line((-8.395832, -17), (-7.272551, -17))
            ThreePointArc((-7.272551, -17), (0, -21.3), (7.272551, -17))
        make_face()
        with BuildLine():
            Line((7.272551, 9), (8.395832, 9))
            ThreePointArc((8.395832, 9), (0, 3.7), (-8.395832, 9))
            Line((-8.395832, 9), (-7.272551, 9))
            ThreePointArc((-7.272551, 9), (0, 4.7), (7.272551, 9))
        make_face()
        with BuildLine():
            Line((-8.395832, 17), (-7.272551, 17))
            ThreePointArc((-7.272551, 17), (0, 21.3), (7.272551, 17))
            Line((7.272551, 17), (8.395832, 17))
            ThreePointArc((8.395832, 17), (0, 22.3), (-8.395832, 17))
        make_face()
    extrude(amount=RESSALTO_EXTRUS_O12_DEPTH)

    # Esboço36 → Corte-extrusão28 (cut)
    with BuildSketch(Plane.XY.offset(1.5)):
        with Locations((23.25, 0)):
            Rectangle(ESBO_O36_W, ESBO_O36_H)
    extrude(amount=CORTE_EXTRUS_O28_DEPTH, mode=Mode.SUBTRACT)

    # Esboço39 → Ressalto-extrusão13 (add)
    with BuildSketch(Plane(origin=(0, 0, 0), x_dir=(-1, 0, 0), z_dir=(0, 0, -1))):
        Polygon((-31.25, 26.25), (-33.123106, 26.25), (-48.5, 10.873106), (-48.5, -10.873106), (-33.123106, -26.25), (-31.25, -26.25), align=None)
    extrude(amount=-RESSALTO_EXTRUS_O13_DEPTH)

    # Esboço40 → Ressalto-extrusão14 (add)
    with BuildSketch(Plane.XY.offset(1.5)):
        with Locations((27, 10.5)):
            Circle(ESBO_O40_R)
        with Locations((27, -10.5)):
            Circle(ESBO_O40_R)
        with Locations((14.5, -10.5)):
            Circle(ESBO_O40_R)
        with Locations((14.5, 10.5)):
            Circle(ESBO_O40_R)
    extrude(amount=RESSALTO_EXTRUS_O14_DEPTH)

    # Esboço37 → Corte-extrusão29 (cut, through all)
    with BuildSketch(Plane.XY):
        with Locations((27, 0)):
            Circle(ESBO_O37_R)
        with Locations((14.5, -10.5)):
            Rectangle(ESBO_O37_W, ESBO_O37_H)
        with Locations((14.5, 10.5)):
            Rectangle(ESBO_O37_W, ESBO_O37_H)
        with Locations((27, 10.5)):
            Rectangle(ESBO_O37_W, ESBO_O37_H)
        with Locations((27, -10.5)):
            Rectangle(ESBO_O37_W, ESBO_O37_H)
    extrude(amount=CORTE_EXTRUS_O29_DEPTH, mode=Mode.SUBTRACT)

    # Esboço41 → Ressalto-extrusão15 (add)
    with BuildSketch(Plane(origin=(0, 0, 0), x_dir=(-1, 0, 0), z_dir=(0, 0, -1))):
        with Locations((-27, -10.5)):
            Rectangle(ESBO_O41_W, ESBO_O41_H)
        with Locations((-14.5, -10.5)):
            Rectangle(ESBO_O41_W, ESBO_O41_H)
        with Locations((-14.5, 10.5)):
            Rectangle(ESBO_O41_W, ESBO_O41_H)
        with Locations((-27, 10.5)):
            Rectangle(ESBO_O41_W, ESBO_O41_H)
    extrude(amount=-RESSALTO_EXTRUS_O15_DEPTH)

    # Esboço43 → Ressalto-extrusão16 (add)
    with BuildSketch(Plane.XY.offset(1.5)):
        Polygon((33.123106, 26.25), (48.5, 10.873106), (48.5, -10.873106), (33.123106, -26.25), (27.466252, -26.25), (30.294679, -23.421573), (44.5, -9.216252), (44.5, 9.216252), (30.294679, 23.421573), (27.466252, 26.25), align=None)
    extrude(amount=RESSALTO_EXTRUS_O16_DEPTH)

    # Esboço44 → Corte-extrusão30 (cut)
    with BuildSketch(Plane(origin=(48.5, 0, 0), x_dir=(0, 0, -1), z_dir=(1, 0, 0))):
        with Locations((-4, 0)):
            Rectangle(ESBO_O44_W, ESBO_O44_H)
        with Locations((-4, 8)):
            Rectangle(ESBO_O44_W, ESBO_O44_H)
        with Locations((-4, -8)):
            Rectangle(ESBO_O44_W, ESBO_O44_H)
    extrude(amount=-CORTE_EXTRUS_O30_DEPTH, mode=Mode.SUBTRACT)

    # Esboço45 → Corte-extrusão31 (cut)
    with BuildSketch(Plane(origin=(29.686553, -29.686553, 0), x_dir=(0, 0, -1), z_dir=(0.7071067811865464, -0.7071067811865488, 0))):
        with Locations((-4, 23.733126)):
            Rectangle(ESBO_O45_W, ESBO_O45_H)
        with Locations((-4, 15.733126)):
            Rectangle(ESBO_O45_W, ESBO_O45_H)
    extrude(amount=-CORTE_EXTRUS_O31_DEPTH, mode=Mode.SUBTRACT)

    # Esboço46 → Corte-extrusão32 (cut)
    with BuildSketch(Plane(origin=(29.686553, 29.686553, 0), x_dir=(0, 0, -1), z_dir=(0.7071067811865465, 0.7071067811865487, 0))):
        with Locations((-4, -15.733126)):
            Rectangle(ESBO_O46_W, ESBO_O46_H)
        with Locations((-4, -23.733126)):
            Rectangle(ESBO_O46_W, ESBO_O46_H)
    extrude(amount=-CORTE_EXTRUS_O32_DEPTH, mode=Mode.SUBTRACT)

    # Esboço48 → Corte-extrusão33 (cut)
    with BuildSketch(Plane.ZY.offset(27.25).offset(CORTE_EXTRUS_O33_START)):
        Polygon((8, 20.25), (0, 26.25), (0, 28.89363), (17.975582, 28.89363), (17.975582, 20.25), align=None)
        Polygon((0, -26.25), (8, -20.25), (14.919184, -20.25), (14.919184, -29.675499), (0, -29.675499), align=None)
    extrude(amount=-CORTE_EXTRUS_O33_DEPTH, mode=Mode.SUBTRACT)

    # Esboço49 → Corte-extrusão34 (cut)
    with BuildSketch(Plane.XY.offset(1.5)):
        with Locations((-6.035621, 16)):
            Rectangle(ESBO_O49_W, ESBO_O49_H)
        with Locations((-6.035621, -16)):
            Rectangle(ESBO_O49_W, ESBO_O49_H)
    extrude(amount=CORTE_EXTRUS_O34_DEPTH, mode=Mode.SUBTRACT)


solid = part.part
